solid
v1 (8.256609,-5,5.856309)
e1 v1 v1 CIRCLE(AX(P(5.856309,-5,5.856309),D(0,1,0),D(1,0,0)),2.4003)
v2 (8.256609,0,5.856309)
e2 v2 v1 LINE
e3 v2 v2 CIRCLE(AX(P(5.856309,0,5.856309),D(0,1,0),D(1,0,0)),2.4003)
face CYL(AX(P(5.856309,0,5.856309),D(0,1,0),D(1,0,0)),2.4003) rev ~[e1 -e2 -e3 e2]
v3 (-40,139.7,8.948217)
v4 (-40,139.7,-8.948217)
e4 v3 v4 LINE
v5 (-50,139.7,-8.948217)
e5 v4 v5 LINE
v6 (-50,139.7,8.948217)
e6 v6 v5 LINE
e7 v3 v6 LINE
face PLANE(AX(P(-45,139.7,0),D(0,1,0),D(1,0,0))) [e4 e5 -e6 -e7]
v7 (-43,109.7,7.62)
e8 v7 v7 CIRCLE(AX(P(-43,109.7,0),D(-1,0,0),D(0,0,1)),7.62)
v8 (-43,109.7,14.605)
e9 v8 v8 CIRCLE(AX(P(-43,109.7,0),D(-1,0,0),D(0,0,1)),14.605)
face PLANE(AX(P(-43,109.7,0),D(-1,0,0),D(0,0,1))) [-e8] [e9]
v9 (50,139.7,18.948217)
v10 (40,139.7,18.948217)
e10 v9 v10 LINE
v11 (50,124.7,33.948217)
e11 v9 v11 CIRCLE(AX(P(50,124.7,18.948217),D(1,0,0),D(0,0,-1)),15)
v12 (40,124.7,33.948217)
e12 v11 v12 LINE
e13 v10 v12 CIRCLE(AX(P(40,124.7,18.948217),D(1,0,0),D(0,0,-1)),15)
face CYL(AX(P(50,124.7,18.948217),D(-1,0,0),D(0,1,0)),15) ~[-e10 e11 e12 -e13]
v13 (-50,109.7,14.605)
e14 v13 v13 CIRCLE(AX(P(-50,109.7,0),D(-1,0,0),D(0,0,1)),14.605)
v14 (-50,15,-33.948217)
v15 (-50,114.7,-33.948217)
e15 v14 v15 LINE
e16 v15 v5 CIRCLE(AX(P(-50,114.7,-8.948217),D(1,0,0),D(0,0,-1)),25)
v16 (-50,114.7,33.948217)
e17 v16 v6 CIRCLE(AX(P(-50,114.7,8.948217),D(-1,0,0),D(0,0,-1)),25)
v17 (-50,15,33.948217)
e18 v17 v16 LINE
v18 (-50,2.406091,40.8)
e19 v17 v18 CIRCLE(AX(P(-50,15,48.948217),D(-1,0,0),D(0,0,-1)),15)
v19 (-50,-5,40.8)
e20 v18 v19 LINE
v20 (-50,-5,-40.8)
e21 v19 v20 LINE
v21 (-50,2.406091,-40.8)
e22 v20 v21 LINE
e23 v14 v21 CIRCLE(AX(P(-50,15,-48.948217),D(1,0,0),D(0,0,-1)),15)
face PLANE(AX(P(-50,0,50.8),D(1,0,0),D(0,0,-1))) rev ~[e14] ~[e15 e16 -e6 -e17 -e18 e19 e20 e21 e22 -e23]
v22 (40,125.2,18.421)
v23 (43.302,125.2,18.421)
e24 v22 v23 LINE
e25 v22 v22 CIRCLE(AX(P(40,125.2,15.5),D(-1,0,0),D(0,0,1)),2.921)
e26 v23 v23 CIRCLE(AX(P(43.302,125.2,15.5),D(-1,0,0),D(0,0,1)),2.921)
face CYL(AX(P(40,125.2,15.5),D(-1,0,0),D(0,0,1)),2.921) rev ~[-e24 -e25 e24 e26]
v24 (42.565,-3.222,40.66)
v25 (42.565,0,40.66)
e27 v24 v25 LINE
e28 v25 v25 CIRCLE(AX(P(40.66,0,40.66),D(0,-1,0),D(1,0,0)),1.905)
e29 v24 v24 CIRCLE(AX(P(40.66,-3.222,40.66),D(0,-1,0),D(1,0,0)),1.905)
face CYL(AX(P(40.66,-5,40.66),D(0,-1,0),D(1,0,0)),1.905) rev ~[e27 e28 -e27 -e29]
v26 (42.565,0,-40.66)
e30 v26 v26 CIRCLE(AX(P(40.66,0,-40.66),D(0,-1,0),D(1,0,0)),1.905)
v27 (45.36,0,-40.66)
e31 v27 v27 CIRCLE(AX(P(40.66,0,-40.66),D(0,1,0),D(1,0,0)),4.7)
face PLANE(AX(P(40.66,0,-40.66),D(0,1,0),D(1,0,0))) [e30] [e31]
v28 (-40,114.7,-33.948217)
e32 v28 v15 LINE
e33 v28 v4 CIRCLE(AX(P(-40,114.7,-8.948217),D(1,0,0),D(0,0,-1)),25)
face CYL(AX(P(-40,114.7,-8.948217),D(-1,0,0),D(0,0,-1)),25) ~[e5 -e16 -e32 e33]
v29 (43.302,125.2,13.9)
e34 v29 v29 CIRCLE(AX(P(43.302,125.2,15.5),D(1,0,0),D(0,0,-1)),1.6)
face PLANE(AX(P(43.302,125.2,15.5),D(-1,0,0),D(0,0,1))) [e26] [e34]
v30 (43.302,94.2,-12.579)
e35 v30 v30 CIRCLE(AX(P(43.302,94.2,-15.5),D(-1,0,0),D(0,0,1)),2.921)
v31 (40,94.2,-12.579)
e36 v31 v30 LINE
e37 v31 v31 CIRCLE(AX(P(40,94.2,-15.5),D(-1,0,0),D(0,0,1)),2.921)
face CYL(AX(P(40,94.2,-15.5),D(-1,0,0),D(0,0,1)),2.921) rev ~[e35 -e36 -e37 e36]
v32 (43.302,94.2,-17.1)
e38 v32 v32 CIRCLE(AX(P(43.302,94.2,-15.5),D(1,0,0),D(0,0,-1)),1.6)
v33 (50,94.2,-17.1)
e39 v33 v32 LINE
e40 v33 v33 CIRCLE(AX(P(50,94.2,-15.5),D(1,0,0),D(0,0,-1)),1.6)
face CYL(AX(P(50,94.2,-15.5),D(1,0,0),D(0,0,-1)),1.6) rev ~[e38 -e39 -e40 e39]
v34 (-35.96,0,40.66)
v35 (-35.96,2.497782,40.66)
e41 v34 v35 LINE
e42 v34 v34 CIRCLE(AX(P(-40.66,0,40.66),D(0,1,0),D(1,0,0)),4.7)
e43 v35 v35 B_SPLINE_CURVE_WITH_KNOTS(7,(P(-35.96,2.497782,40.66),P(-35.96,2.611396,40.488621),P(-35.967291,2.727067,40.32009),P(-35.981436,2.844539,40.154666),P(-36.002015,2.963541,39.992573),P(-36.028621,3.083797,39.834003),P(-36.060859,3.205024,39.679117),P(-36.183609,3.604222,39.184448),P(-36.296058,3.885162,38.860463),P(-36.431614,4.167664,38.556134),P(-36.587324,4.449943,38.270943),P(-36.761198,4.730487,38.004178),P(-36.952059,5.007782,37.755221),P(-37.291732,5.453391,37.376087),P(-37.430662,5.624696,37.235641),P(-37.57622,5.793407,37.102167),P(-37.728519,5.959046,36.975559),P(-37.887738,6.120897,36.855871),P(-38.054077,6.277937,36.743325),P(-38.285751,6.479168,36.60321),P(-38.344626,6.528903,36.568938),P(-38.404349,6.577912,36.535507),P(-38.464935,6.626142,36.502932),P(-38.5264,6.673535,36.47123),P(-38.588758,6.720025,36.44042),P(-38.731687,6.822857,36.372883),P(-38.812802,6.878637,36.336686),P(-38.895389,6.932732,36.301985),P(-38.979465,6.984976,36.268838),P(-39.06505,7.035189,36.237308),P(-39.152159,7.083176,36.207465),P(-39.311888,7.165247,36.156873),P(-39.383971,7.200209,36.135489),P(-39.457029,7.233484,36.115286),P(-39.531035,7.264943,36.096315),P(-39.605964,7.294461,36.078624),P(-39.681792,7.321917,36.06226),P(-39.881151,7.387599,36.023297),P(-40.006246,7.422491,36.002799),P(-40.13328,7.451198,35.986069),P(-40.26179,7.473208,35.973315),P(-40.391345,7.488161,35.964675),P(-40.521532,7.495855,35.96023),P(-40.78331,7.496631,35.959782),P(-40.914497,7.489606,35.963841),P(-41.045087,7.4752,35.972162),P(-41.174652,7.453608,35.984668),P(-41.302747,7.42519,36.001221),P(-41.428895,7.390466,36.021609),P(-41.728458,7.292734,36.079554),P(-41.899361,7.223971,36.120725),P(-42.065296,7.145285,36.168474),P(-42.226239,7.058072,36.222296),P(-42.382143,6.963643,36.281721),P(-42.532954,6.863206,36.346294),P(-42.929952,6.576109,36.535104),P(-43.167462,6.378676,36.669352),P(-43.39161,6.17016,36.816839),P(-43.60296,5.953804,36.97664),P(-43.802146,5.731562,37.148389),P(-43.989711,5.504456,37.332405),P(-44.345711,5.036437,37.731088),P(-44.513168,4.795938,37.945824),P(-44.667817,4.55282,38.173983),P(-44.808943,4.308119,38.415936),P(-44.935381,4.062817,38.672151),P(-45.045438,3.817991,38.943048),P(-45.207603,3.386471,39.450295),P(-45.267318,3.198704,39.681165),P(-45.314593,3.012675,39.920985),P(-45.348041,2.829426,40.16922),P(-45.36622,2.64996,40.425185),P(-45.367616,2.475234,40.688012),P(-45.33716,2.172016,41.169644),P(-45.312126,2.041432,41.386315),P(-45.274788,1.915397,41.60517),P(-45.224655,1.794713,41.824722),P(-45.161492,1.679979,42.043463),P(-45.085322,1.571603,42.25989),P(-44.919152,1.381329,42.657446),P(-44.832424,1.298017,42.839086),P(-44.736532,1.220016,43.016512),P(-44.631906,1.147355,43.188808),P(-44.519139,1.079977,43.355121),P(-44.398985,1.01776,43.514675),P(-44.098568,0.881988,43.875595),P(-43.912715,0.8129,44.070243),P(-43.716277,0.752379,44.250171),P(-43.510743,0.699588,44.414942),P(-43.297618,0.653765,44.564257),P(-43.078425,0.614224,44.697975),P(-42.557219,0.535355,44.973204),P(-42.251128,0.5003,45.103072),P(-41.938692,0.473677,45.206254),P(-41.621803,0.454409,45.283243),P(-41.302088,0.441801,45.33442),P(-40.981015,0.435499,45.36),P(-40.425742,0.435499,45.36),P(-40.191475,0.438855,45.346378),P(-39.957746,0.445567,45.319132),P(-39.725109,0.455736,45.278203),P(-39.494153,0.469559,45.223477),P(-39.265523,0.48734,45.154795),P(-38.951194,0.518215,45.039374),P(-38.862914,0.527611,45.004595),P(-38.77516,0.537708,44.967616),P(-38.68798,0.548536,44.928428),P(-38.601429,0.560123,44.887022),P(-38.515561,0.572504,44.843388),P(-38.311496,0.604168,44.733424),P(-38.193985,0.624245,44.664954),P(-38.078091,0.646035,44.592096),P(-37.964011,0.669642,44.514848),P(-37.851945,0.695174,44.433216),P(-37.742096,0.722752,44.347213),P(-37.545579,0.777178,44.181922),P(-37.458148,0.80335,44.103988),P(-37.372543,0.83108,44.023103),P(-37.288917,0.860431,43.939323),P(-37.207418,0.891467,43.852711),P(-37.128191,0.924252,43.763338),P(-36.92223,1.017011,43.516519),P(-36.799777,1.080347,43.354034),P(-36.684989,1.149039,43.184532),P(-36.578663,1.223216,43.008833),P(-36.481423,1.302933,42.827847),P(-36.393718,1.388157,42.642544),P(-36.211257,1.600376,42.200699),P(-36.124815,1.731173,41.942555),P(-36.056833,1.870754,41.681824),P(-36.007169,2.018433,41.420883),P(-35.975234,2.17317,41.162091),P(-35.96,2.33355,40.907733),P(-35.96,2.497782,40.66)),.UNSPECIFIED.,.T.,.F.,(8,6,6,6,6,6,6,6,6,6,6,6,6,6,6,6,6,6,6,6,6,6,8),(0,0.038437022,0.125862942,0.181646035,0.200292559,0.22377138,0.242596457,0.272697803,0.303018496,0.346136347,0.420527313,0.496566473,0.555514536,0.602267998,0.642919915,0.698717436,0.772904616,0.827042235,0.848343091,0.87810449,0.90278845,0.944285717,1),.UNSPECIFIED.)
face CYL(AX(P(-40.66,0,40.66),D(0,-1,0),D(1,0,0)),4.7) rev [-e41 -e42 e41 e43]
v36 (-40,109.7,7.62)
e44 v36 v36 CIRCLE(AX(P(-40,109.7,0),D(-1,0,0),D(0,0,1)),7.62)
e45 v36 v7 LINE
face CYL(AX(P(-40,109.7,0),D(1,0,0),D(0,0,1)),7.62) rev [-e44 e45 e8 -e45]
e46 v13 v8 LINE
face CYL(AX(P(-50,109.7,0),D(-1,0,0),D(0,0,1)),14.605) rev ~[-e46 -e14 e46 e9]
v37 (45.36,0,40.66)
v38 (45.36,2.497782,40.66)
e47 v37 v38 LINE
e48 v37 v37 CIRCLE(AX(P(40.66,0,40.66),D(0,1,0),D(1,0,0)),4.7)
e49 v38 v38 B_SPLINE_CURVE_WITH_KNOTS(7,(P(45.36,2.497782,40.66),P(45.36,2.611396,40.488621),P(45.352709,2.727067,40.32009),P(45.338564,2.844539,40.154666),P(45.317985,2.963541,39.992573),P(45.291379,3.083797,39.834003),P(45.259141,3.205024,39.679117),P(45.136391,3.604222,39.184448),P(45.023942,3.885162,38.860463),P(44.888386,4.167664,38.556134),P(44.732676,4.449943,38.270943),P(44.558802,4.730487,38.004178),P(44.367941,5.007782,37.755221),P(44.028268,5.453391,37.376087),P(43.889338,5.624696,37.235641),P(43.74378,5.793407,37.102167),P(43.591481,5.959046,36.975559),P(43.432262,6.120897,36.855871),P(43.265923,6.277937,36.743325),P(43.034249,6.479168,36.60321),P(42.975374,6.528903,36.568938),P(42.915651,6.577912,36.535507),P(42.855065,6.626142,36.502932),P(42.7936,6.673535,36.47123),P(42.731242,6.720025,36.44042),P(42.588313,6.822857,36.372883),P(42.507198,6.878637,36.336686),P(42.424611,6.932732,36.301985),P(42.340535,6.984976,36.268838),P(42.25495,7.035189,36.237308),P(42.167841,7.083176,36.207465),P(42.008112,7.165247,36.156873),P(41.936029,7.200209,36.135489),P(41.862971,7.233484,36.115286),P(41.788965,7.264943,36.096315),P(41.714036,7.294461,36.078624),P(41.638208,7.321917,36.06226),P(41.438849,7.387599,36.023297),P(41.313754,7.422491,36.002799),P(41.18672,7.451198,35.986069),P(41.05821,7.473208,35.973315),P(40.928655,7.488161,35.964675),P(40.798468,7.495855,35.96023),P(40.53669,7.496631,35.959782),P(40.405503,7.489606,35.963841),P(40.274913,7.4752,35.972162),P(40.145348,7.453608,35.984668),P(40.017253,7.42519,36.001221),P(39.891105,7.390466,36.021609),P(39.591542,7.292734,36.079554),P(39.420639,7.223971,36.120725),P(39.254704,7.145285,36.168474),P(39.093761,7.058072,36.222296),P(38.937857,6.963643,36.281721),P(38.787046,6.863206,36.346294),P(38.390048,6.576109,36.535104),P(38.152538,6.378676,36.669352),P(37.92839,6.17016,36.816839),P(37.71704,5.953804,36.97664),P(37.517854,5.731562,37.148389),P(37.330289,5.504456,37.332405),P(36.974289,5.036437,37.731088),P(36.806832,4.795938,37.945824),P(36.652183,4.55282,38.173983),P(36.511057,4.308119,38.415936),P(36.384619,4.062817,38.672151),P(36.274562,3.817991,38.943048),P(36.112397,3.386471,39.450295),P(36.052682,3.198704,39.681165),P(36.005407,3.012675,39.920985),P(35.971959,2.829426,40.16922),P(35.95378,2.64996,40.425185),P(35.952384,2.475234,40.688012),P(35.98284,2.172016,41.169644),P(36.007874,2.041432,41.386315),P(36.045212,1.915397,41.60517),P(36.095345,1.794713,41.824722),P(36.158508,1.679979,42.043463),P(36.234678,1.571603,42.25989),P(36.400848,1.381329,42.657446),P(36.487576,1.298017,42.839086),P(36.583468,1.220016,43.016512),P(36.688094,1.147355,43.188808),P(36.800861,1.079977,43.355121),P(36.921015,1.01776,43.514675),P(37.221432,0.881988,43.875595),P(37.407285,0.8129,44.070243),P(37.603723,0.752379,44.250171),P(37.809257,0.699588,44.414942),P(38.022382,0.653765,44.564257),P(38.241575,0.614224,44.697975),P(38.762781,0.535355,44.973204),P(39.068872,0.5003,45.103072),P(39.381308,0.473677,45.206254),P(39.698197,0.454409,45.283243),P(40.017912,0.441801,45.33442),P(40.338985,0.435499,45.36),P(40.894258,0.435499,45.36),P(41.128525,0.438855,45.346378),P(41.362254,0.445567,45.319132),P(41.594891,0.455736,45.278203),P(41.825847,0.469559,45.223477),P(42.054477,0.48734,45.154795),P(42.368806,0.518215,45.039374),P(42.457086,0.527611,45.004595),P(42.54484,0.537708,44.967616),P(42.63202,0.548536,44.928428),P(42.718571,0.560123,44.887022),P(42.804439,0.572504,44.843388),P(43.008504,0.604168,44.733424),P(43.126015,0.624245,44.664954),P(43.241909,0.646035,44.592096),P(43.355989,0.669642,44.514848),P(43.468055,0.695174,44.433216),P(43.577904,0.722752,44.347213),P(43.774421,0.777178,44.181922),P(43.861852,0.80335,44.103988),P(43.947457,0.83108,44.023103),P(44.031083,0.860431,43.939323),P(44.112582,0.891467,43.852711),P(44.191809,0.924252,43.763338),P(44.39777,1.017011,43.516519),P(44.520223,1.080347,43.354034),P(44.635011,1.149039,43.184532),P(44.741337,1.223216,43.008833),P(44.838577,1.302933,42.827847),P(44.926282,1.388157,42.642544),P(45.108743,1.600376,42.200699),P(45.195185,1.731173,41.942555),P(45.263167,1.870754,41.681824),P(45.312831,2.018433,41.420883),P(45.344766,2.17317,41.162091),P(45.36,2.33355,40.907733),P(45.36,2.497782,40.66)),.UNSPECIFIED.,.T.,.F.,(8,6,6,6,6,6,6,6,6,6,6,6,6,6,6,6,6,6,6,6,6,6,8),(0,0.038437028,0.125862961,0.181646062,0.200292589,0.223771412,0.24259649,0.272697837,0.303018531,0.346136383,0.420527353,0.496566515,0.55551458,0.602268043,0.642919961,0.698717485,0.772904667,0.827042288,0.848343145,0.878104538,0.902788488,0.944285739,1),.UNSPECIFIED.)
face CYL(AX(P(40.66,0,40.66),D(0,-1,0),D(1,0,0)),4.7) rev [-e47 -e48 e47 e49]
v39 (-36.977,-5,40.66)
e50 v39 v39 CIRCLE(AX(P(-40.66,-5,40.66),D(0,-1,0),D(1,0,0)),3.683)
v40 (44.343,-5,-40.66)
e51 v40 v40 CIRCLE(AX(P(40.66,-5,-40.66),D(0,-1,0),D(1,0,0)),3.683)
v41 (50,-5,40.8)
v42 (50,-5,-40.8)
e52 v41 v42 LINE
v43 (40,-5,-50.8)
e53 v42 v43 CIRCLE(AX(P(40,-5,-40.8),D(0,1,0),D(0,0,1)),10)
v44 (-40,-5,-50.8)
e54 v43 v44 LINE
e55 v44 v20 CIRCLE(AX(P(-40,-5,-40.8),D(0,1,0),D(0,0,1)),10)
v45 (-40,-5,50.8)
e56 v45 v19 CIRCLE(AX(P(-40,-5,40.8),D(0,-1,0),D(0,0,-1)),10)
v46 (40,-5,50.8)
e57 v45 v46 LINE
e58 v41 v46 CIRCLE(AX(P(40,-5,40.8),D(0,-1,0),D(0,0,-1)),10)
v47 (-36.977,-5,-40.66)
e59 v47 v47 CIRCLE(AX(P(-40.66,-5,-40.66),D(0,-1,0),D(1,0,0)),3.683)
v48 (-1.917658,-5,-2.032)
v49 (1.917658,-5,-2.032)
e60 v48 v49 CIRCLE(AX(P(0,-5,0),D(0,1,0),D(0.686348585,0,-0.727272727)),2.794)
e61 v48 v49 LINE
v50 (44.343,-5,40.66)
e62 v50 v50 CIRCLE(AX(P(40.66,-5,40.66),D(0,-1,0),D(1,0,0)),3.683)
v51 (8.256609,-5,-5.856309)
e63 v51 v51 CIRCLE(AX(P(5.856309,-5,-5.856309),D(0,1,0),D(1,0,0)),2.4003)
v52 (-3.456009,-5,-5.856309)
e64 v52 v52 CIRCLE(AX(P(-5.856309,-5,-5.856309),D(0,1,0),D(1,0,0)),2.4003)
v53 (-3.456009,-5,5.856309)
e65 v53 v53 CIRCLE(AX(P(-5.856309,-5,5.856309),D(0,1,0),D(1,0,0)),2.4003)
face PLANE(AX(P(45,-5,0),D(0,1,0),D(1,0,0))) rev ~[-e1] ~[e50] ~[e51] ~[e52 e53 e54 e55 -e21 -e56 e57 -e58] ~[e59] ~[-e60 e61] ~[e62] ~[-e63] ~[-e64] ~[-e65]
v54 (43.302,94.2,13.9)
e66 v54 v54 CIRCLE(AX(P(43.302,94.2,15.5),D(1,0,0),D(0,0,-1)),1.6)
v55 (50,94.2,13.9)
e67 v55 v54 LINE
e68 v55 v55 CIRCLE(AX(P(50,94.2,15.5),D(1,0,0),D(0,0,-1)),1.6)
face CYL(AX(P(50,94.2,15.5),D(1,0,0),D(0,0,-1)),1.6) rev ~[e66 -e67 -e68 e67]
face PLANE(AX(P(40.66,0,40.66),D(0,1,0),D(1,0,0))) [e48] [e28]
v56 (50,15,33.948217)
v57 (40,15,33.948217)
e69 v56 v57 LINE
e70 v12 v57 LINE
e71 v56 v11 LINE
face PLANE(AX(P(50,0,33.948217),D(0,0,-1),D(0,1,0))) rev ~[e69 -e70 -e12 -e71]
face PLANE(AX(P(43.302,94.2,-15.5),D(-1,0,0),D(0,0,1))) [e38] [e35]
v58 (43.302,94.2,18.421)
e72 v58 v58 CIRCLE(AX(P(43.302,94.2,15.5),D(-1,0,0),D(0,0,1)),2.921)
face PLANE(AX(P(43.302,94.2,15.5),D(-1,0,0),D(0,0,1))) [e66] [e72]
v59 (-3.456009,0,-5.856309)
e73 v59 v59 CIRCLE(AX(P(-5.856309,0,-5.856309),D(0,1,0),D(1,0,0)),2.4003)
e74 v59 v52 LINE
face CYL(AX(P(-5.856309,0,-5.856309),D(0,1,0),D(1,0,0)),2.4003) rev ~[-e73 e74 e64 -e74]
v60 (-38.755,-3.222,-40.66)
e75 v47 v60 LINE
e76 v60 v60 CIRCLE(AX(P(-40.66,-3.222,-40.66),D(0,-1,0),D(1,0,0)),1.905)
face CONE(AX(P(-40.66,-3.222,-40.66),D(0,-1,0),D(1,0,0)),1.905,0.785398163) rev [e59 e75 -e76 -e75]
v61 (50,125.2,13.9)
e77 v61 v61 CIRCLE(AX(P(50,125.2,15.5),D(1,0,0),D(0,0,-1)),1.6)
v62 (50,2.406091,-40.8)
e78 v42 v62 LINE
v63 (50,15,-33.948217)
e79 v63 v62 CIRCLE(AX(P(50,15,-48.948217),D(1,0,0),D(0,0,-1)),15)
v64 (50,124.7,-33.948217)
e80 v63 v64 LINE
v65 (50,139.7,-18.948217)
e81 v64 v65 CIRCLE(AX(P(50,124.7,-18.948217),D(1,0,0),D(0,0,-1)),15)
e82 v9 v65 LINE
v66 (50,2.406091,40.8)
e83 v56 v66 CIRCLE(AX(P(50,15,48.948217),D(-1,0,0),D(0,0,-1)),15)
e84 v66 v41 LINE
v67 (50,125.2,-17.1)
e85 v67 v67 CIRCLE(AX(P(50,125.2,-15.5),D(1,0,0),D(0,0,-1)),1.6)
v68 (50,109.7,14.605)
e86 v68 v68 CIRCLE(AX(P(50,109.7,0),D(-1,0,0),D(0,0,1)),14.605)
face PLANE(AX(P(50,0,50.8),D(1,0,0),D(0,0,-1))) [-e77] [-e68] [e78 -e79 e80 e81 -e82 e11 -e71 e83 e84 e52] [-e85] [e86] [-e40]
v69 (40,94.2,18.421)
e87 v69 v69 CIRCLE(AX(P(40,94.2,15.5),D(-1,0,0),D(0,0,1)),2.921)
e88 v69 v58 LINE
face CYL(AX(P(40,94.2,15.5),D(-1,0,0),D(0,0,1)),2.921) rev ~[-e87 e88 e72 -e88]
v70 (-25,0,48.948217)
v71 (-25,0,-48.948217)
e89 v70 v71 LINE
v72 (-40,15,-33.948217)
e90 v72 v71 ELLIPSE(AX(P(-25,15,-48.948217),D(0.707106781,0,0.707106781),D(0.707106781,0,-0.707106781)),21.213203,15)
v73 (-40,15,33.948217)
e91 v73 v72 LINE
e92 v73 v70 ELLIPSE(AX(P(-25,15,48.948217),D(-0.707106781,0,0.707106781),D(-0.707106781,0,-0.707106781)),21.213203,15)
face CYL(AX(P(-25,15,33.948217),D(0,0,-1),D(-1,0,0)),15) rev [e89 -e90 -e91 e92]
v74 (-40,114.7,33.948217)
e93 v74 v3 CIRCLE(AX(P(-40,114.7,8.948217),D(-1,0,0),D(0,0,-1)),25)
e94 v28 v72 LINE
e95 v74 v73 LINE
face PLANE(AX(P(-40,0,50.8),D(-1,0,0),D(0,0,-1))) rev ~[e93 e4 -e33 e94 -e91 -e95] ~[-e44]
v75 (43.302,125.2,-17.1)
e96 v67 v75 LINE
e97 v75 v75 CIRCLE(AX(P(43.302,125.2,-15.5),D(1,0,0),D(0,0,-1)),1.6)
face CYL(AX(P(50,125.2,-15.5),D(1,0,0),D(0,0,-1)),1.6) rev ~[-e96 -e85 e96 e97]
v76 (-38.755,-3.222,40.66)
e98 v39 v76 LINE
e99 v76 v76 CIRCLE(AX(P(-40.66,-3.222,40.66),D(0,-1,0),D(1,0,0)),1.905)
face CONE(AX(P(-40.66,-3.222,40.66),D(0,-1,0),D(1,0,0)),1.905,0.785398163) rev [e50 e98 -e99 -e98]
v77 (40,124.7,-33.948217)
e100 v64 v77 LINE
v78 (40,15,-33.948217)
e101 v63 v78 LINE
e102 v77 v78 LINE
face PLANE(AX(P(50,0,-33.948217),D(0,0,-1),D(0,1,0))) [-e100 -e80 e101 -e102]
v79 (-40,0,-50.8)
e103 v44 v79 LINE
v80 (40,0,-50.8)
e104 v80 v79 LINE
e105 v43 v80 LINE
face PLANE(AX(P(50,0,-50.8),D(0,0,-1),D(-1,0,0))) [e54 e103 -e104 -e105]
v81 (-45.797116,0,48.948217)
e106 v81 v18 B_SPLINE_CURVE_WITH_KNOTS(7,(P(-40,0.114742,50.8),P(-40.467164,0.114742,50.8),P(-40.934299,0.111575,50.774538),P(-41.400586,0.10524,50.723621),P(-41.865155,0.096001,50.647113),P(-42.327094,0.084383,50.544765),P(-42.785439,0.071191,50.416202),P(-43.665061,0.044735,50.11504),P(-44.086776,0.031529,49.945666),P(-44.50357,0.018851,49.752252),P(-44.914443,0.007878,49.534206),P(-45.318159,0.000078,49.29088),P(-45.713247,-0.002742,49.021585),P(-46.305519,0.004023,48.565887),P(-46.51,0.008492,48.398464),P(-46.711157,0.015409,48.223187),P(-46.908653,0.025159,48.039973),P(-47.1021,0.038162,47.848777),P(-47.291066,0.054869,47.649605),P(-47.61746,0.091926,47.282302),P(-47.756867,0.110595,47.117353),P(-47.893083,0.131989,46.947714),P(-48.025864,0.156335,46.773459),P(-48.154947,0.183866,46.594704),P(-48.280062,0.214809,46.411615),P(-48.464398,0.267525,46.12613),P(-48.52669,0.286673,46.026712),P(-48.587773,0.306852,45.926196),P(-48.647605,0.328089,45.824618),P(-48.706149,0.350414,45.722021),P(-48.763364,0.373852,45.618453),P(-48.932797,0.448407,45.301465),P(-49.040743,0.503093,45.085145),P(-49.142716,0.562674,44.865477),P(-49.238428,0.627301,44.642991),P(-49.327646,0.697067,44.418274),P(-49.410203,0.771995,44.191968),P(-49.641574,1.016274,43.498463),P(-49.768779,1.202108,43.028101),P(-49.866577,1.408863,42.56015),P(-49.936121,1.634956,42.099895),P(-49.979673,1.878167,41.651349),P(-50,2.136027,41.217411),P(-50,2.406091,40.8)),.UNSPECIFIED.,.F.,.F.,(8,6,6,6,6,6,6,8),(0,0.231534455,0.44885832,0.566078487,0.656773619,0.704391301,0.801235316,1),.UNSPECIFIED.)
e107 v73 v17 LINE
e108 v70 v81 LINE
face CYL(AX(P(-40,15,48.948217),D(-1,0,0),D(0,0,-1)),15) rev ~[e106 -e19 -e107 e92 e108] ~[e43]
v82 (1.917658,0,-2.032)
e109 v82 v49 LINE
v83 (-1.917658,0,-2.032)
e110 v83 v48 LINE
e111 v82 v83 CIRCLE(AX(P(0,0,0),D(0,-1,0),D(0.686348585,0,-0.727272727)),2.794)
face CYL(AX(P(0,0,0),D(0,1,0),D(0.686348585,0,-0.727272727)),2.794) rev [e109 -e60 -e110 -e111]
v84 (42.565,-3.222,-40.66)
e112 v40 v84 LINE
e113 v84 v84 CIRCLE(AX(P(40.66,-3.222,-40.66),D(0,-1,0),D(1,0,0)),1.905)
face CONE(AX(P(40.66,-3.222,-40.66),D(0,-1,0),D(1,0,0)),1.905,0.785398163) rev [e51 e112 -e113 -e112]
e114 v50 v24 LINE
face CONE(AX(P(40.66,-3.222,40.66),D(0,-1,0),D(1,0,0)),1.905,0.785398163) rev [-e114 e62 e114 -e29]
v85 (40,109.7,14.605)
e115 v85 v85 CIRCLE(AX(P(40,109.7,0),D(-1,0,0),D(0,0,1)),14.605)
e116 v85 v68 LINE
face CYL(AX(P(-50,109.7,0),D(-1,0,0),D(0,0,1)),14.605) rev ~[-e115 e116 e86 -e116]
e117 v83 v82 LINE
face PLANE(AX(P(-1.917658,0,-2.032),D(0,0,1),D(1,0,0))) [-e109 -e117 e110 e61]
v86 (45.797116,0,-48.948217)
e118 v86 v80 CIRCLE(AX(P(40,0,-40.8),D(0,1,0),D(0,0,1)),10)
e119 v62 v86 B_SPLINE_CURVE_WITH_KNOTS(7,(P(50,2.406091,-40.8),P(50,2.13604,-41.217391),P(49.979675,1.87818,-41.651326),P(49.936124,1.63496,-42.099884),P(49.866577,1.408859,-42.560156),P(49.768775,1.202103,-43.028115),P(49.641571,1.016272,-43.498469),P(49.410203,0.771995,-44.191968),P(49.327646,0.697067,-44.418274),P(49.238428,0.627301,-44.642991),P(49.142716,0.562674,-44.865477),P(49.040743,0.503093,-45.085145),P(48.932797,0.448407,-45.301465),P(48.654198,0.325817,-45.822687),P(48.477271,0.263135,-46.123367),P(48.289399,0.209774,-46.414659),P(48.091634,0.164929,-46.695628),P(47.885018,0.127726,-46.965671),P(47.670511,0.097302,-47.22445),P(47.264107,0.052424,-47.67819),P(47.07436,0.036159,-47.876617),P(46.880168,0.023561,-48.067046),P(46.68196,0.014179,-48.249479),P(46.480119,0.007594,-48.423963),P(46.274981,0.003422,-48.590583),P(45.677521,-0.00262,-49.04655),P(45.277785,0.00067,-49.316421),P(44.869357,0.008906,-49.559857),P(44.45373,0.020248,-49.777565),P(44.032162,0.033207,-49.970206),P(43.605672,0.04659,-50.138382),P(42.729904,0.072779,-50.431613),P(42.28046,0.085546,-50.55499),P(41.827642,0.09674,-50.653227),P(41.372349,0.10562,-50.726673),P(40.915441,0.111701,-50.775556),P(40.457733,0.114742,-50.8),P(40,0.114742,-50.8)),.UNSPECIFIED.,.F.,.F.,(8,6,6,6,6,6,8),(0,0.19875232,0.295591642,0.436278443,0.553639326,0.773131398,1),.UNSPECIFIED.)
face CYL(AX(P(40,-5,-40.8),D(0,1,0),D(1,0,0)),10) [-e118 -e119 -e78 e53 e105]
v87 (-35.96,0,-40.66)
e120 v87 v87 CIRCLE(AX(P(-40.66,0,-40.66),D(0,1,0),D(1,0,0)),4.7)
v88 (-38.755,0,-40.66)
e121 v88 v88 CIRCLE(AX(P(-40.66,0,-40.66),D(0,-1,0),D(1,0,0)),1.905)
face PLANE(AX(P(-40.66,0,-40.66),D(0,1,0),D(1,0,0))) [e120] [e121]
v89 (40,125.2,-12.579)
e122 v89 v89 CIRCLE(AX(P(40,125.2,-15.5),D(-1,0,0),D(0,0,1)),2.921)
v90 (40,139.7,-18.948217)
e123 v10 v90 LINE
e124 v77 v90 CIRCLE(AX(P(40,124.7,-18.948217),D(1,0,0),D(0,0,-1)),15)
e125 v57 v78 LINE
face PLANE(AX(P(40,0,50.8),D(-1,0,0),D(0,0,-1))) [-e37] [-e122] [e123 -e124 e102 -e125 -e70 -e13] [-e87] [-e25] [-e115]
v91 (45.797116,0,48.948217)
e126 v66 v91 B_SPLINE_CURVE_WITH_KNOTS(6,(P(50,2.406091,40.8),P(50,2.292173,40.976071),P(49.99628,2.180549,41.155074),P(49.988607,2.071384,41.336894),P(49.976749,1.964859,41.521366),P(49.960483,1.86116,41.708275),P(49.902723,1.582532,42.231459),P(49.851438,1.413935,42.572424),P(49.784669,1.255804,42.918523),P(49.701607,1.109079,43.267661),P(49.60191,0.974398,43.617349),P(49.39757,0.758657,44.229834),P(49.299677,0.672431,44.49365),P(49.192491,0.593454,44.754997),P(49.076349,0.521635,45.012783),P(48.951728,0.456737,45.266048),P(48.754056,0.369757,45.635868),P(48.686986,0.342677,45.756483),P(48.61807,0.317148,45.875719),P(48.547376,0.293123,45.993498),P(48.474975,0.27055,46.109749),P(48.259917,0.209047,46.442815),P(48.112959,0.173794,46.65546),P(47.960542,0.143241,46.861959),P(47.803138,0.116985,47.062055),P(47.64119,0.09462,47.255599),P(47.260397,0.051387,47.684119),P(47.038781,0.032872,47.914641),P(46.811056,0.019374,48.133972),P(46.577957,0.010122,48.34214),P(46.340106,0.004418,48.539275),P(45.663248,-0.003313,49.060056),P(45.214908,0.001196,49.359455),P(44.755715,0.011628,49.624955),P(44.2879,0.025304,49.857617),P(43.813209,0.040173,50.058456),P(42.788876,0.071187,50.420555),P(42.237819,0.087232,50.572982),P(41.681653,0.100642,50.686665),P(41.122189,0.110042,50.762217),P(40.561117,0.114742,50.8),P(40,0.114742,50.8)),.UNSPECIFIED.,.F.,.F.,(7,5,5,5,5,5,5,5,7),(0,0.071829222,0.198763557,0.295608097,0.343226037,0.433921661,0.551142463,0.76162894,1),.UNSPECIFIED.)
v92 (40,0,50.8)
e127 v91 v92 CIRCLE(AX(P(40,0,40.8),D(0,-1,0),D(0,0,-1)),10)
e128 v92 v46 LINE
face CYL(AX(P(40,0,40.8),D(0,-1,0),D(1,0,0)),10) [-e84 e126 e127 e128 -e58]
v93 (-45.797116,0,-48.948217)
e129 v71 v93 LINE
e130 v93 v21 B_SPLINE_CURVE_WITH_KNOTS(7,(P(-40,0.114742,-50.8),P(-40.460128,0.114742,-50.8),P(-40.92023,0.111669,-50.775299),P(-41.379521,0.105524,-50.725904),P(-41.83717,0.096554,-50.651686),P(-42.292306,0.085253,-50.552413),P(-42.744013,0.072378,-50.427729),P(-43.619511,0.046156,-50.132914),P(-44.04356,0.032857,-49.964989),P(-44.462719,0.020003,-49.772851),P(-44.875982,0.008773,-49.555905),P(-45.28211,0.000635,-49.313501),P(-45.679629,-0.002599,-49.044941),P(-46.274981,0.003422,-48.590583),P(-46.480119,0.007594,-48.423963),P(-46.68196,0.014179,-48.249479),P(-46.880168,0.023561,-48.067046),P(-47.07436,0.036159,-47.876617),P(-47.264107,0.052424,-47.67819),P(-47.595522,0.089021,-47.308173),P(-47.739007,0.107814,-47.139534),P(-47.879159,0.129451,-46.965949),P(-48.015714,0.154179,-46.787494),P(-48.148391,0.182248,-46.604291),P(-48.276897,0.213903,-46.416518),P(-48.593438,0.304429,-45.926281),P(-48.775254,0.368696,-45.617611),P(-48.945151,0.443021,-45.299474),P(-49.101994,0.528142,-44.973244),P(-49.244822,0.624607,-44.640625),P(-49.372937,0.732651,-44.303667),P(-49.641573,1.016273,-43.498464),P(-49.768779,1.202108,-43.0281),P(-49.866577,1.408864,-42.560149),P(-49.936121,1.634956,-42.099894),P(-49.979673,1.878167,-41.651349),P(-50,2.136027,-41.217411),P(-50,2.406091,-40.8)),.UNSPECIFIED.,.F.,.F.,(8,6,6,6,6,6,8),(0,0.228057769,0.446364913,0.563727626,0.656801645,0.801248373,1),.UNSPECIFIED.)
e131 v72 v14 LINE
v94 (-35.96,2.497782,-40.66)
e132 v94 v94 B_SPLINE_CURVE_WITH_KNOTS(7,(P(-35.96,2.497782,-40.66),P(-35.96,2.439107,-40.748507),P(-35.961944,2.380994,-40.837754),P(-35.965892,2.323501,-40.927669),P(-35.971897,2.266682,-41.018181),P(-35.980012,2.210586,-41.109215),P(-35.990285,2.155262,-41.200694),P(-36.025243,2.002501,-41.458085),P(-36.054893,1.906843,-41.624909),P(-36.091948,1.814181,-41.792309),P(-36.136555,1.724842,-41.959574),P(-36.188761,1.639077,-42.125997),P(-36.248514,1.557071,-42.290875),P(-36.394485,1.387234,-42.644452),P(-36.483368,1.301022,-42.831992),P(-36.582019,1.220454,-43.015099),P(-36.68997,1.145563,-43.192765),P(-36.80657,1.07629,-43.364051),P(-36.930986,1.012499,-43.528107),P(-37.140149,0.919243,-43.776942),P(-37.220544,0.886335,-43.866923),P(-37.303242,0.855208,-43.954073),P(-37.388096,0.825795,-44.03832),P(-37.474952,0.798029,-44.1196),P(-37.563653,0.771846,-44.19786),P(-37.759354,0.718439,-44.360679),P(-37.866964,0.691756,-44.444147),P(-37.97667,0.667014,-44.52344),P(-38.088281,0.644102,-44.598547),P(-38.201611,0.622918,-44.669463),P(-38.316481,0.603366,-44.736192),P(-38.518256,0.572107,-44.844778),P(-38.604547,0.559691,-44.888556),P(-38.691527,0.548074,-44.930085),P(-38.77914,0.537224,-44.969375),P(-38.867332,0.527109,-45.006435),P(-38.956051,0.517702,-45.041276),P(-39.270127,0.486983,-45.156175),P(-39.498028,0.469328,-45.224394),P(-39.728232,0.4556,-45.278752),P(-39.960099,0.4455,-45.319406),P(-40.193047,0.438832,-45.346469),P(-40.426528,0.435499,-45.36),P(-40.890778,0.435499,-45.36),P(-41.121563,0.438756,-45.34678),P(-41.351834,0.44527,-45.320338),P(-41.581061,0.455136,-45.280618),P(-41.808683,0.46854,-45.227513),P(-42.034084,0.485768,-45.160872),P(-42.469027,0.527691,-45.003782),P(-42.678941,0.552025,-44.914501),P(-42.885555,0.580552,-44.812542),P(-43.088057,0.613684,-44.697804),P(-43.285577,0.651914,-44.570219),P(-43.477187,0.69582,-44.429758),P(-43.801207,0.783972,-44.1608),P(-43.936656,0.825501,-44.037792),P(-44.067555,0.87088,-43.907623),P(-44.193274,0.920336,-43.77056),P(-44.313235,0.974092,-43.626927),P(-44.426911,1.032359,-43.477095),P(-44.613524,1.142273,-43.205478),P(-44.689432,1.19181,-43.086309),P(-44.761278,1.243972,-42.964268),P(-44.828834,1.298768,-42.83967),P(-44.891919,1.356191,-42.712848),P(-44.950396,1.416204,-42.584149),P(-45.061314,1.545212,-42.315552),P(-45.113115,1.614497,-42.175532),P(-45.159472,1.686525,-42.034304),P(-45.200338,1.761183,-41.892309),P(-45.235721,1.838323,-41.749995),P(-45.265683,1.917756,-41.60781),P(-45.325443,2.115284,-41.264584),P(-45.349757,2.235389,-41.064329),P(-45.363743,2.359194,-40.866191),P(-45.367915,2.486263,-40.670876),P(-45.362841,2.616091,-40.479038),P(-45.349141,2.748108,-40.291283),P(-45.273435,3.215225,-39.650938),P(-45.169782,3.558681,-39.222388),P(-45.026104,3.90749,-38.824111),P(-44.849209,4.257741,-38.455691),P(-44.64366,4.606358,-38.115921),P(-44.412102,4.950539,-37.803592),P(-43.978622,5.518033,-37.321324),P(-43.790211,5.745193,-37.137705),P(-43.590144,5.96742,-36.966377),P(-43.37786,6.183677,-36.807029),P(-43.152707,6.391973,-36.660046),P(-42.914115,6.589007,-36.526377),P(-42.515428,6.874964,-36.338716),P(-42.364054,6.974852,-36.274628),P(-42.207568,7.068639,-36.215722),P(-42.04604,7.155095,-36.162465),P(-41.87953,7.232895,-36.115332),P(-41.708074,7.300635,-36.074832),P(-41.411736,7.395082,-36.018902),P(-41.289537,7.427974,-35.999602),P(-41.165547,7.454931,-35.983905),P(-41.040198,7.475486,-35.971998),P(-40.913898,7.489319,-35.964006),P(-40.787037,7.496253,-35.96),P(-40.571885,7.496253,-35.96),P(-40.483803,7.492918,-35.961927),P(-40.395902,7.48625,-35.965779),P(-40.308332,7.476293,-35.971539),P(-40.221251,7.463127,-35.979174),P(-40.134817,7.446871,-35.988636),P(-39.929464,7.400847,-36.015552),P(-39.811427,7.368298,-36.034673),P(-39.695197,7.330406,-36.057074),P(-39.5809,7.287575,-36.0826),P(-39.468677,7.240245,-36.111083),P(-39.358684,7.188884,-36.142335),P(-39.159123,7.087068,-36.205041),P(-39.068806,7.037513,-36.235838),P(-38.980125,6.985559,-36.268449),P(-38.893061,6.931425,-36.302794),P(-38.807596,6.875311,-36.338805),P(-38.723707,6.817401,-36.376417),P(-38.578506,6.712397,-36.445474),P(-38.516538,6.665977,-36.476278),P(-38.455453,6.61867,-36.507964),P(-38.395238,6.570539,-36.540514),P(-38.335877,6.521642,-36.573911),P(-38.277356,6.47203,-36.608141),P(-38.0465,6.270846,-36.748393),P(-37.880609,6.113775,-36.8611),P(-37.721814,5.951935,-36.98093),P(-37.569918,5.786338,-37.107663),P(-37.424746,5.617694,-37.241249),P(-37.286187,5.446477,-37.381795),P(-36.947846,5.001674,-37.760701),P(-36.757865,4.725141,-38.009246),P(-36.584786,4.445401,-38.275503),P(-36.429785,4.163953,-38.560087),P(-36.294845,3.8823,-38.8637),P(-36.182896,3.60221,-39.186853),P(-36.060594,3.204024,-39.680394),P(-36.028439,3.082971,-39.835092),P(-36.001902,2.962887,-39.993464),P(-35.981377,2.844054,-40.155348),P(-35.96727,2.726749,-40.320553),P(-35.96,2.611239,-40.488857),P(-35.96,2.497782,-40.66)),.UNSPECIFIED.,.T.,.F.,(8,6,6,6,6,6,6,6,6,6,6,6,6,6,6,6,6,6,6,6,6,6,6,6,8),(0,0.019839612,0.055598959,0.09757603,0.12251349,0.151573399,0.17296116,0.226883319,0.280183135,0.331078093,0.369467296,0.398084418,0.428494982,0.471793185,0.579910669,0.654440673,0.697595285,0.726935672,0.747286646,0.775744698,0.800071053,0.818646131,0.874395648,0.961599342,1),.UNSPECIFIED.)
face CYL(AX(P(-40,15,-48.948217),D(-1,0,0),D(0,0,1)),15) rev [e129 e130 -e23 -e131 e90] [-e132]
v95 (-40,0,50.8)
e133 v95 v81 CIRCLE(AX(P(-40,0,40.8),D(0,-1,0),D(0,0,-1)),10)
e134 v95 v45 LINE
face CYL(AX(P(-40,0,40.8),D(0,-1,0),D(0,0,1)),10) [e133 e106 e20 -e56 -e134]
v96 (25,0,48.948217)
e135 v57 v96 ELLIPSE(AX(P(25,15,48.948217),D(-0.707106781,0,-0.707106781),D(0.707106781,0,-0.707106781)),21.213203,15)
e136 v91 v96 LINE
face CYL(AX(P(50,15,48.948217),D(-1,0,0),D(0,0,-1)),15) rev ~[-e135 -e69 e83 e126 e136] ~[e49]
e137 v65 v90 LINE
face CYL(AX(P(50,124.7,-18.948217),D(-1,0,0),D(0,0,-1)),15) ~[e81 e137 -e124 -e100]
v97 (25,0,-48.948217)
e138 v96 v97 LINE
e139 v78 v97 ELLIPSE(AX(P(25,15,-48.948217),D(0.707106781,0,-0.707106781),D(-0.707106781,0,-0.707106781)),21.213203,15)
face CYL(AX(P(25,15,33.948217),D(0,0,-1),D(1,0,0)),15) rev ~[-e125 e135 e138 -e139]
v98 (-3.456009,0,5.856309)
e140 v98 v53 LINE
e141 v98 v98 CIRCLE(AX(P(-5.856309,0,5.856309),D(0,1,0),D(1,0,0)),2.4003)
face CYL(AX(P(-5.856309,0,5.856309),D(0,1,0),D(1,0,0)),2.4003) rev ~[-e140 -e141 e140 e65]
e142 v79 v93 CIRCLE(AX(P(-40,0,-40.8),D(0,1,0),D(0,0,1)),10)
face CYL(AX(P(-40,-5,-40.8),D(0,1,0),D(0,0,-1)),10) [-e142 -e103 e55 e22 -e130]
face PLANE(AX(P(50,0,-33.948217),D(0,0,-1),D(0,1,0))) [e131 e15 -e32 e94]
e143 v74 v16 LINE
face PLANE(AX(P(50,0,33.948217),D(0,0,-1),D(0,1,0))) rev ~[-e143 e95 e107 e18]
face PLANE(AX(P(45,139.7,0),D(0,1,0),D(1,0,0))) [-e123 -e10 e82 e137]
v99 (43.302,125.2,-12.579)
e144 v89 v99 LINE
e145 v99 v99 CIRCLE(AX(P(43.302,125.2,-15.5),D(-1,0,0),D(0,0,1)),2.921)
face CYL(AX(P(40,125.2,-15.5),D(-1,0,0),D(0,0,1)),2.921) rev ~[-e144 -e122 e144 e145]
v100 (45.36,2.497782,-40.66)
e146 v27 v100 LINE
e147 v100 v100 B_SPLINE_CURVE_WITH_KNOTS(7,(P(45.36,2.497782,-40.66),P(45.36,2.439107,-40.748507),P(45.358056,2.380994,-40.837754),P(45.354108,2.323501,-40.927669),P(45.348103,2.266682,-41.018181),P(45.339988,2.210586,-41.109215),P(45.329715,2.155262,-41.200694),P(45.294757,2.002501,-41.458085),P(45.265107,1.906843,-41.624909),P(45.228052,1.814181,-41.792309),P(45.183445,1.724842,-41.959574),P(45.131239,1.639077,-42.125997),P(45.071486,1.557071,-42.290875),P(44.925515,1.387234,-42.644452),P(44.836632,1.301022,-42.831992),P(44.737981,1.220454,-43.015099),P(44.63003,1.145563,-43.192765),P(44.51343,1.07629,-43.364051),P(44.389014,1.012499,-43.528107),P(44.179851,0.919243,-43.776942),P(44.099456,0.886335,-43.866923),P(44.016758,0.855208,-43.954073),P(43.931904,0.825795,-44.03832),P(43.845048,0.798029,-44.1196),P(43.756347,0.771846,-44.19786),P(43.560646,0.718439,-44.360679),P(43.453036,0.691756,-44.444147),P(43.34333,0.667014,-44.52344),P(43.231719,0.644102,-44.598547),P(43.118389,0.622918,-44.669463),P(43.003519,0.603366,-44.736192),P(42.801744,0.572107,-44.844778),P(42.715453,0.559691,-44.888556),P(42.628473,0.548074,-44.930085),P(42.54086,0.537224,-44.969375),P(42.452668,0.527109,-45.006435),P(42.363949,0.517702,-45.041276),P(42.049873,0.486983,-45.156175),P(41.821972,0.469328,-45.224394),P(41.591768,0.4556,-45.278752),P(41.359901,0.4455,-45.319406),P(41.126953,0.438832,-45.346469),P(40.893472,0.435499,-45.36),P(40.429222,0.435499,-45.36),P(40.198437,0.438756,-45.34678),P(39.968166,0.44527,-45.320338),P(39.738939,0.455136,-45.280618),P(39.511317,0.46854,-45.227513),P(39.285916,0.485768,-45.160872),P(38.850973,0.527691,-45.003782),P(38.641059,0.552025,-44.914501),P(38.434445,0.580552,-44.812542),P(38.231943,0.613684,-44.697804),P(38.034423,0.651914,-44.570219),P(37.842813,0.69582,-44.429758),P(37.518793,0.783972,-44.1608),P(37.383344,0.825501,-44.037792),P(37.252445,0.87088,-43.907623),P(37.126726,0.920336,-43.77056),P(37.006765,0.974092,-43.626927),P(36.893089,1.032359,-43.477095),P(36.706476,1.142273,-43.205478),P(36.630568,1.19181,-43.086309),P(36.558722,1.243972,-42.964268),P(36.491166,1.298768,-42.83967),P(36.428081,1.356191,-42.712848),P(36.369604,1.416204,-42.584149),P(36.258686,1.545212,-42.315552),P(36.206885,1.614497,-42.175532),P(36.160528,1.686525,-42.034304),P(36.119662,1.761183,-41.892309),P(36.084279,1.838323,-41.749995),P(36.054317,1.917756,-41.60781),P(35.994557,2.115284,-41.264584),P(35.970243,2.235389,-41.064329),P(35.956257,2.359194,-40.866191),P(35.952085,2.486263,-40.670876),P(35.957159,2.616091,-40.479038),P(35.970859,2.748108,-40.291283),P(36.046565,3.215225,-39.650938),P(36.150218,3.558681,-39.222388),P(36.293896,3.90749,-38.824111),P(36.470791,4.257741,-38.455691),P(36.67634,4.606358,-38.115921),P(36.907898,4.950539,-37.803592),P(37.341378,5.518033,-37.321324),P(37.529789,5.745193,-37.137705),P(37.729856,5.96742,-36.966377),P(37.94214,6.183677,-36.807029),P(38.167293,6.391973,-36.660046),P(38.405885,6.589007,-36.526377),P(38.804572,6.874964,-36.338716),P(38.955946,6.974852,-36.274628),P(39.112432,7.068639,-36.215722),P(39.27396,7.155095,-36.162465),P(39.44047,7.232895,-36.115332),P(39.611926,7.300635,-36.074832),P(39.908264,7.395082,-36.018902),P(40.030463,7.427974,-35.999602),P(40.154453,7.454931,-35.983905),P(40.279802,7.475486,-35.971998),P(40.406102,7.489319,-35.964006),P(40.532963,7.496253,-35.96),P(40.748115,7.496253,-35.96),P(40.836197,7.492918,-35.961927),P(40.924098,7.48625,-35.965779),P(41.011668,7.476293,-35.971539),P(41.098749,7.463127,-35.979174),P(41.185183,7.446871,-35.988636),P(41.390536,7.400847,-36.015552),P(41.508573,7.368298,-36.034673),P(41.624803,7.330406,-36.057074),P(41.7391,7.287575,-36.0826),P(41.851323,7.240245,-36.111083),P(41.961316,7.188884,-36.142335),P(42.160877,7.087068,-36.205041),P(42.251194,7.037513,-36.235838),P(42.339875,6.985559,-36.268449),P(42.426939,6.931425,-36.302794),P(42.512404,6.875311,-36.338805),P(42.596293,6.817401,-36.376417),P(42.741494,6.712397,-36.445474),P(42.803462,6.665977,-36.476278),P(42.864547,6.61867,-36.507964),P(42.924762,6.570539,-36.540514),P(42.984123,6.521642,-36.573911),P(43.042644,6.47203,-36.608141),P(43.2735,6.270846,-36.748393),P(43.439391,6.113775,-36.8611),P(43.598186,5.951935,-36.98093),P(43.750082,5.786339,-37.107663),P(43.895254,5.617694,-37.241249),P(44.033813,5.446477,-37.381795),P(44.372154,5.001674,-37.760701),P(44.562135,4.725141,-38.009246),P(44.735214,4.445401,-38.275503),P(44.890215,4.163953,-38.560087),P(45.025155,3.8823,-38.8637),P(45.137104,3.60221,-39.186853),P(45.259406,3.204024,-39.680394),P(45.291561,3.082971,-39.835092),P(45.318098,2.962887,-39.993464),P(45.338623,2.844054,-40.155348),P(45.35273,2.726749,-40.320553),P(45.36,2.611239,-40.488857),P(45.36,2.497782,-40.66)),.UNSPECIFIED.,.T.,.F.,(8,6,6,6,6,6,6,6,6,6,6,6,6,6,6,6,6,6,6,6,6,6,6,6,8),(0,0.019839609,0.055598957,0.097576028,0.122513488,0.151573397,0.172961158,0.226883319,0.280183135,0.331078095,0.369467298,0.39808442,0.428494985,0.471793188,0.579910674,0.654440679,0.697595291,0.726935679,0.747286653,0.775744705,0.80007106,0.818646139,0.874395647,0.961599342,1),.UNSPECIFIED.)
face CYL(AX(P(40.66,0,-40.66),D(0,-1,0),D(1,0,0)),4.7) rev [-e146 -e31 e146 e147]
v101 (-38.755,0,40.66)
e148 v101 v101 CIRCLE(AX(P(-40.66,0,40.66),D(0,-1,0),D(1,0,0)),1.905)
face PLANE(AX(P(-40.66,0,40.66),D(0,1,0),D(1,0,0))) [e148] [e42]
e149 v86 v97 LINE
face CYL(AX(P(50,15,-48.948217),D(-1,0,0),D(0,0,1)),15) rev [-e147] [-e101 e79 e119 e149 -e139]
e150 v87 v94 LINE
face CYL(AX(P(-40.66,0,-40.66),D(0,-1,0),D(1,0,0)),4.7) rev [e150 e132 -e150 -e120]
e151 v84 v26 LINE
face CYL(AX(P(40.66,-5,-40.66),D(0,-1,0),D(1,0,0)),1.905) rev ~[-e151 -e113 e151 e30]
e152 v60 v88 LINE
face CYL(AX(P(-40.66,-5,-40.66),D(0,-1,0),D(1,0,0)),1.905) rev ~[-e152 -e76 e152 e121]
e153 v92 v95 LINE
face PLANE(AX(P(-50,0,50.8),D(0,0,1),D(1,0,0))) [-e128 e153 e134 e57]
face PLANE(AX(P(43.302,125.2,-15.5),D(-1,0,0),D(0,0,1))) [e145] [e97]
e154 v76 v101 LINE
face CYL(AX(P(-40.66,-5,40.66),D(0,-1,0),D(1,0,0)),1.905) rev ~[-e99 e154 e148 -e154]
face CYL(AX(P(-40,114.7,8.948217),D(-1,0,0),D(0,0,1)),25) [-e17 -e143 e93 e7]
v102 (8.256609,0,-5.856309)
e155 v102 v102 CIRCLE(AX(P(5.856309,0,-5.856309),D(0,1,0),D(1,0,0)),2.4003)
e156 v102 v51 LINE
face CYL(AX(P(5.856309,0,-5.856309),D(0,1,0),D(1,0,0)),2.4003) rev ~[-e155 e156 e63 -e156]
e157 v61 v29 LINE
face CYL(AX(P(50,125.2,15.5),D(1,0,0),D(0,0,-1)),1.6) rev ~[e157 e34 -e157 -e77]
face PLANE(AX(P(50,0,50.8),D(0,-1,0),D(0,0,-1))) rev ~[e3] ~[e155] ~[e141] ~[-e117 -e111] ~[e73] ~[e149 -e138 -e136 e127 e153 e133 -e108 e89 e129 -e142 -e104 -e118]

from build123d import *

# Parameters (mm, degrees)
SKETCH2_W             = 10
SKETCH2_H             = 101.6
BOSS_EXTRUDE1_DEPTH   = 139.7
BOSS_EXTRUDE1_2_DEPTH = 139.7
SKETCH2_3_W           = 10
SKETCH2_3_H           = 101.6
SKETCH2_3_W_2         = 80
BOSS_EXTRUDE2_DEPTH   = 5
SKETCH3_R             = 14.605
CUT_EXTRUDE1_DEPTH    = 117
SKETCH4_W             = 16.851782798
SKETCH4_H             = 139.7
CUT_EXTRUDE2_DEPTH    = 119
FILLET14_R            = 15
FILLET2_R             = 10
SKETCH7_R             = 1.6
CUT_EXTRUDE4_DEPTH    = 21
BOSS_EXTRUDE3_START   = 80
SKETCH8_R             = 14.75414129
SKETCH8_R_2           = 7.62
BOSS_EXTRUDE3_DEPTH   = 3
SKETCH9_R             = 1.905
CUT_EXTRUDE5_DEPTH    = 145.7
CUT_EXTRUDE6_DEPTH    = 10
FILLET4_R             = 25
SKETCH10_R            = 2.4003
CUT_EXTRUDE7_DEPTH    = 10
SKETCH11_R            = 4.7
CUT_EXTRUDE9_DEPTH    = 10
CHAMFER1_SIZE         = 1.778
SKETCH12_R            = 2.921
CUT_EXTRUDE10_DEPTH   = 3.302


with BuildPart() as part:
    # Sketch2 → Boss-Extrude1 (new body)
    with BuildSketch(Plane(origin=(0, 0, 0), x_dir=(1, 0, 0), z_dir=(0, 1, 0))):
        with Locations((-45, 0)):
            Rectangle(SKETCH2_W, SKETCH2_H)
    extrude(amount=BOSS_EXTRUDE1_DEPTH)



with BuildPart() as body_2:
    # Sketch2 → Boss-Extrude1 2 (new body)
    with BuildSketch(Plane(origin=(0, 0, 0), x_dir=(1, 0, 0), z_dir=(0, 1, 0))):
        with Locations((45, 0)):
            Rectangle(SKETCH2_W, SKETCH2_H)
    extrude(amount=BOSS_EXTRUDE1_2_DEPTH)


with BuildPart() as part_1:
    add(part.part)

    add(body_2.part)  # Boss-Extrude2 merges body 2
    # Sketch2<3> → Boss-Extrude2 (add)
    with BuildSketch(Plane(origin=(0, 0, 0), x_dir=(1, 0, 0), z_dir=(0, 1, 0))):
        with Locations((45, 0)):
            Rectangle(SKETCH2_3_W, SKETCH2_3_H)
        Rectangle(SKETCH2_3_W_2, SKETCH2_3_H)
        with Locations((-45, 0)):
            Rectangle(SKETCH2_3_W, SKETCH2_3_H)
    extrude(amount=-BOSS_EXTRUDE2_DEPTH)

    # Sketch3 → Cut-Extrude1 (cut)
    with BuildSketch(Plane.ZY.offset(50)):
        with Locations((0, 109.7)):
            Circle(SKETCH3_R)
    extrude(amount=-CUT_EXTRUDE1_DEPTH, mode=Mode.SUBTRACT)

    # Sketch4 → Cut-Extrude2 (cut)
    with BuildSketch(Plane(origin=(50, 0, 0), x_dir=(0, 0, -1), z_dir=(1, 0, 0))):
        with Locations((-42.374108601, 69.85)):
            Rectangle(SKETCH4_W, SKETCH4_H)
        with Locations((42.374108601, 69.85)):
            Rectangle(SKETCH4_W, SKETCH4_H)
    extrude(amount=-CUT_EXTRUDE2_DEPTH, mode=Mode.SUBTRACT)

    # Fillet14
    fillet14_edges = [part_1.edges().sort_by_distance(p)[0] for p in [
        (45, 139.7, -33.948217202),
        (45, 139.7, 33.948217202),
        (40, 0, 0),
        (-40, 0, 0),
        (-45, 0, 33.948217202),
        (45, 0, 33.948217202),
        (-45, 0, -33.948217202),
        (45, 0, -33.948217202),
    ]]
    fillet(fillet14_edges, radius=FILLET14_R)

    # Fillet2
    fillet2_edges = [part_1.edges().sort_by_distance(p)[0] for p in [
        (50, -2.5, -50.8),
        (-50, -2.5, -50.8),
        (50, -2.5, 50.8),
        (-50, -2.5, 50.8),
    ]]
    fillet(fillet2_edges, radius=FILLET2_R)

    # Sketch7 → Cut-Extrude4 (cut)
    with BuildSketch(Plane(origin=(50, 0, 0), x_dir=(0, 0, -1), z_dir=(1, 0, 0))):
        with Locations((-15.5, 125.2)):
            Circle(SKETCH7_R)
        with Locations((15.5, 125.2)):
            Circle(SKETCH7_R)
        with Locations((15.5, 94.2)):
            Circle(SKETCH7_R)
        with Locations((-15.5, 94.2)):
            Circle(SKETCH7_R)
    extrude(amount=-CUT_EXTRUDE4_DEPTH, mode=Mode.SUBTRACT)

    # Sketch8 → Boss-Extrude3 (add)
    with BuildSketch(Plane.ZY.offset(-40).offset(BOSS_EXTRUDE3_START)):
        with Locations((0, 109.7)):
            Circle(SKETCH8_R)
        with Locations((0, 109.7)):
            Circle(SKETCH8_R_2, mode=Mode.SUBTRACT)
    extrude(amount=BOSS_EXTRUDE3_DEPTH)

    # Sketch9 → Cut-Extrude5 (cut, through all)
    with BuildSketch(Plane.XZ.offset(5)):
        with Locations((-40.66, 40.66)):
            Circle(SKETCH9_R)
        with Locations((40.66, 40.66)):
            Circle(SKETCH9_R)
        with Locations((-40.66, -40.66)):
            Circle(SKETCH9_R)
        with Locations((40.66, -40.66)):
            Circle(SKETCH9_R)
    extrude(amount=-CUT_EXTRUDE5_DEPTH, mode=Mode.SUBTRACT)

    # Sketch5 → Cut-Extrude6 (cut)
    with BuildSketch(Plane(origin=(0, 0, 0), x_dir=(1, 0, 0), z_dir=(0, 1, 0))):
        with BuildLine():
            Line((-1.917657947, 2.032), (1.917657947, 2.032))
            ThreePointArc((1.917657947, 2.032), (0, -2.794), (-1.917657947, 2.032))
        make_face()
    extrude(amount=-CUT_EXTRUDE6_DEPTH, mode=Mode.SUBTRACT)

    # Fillet4
    fillet4_edges = [part_1.edges().sort_by_distance(p)[0] for p in [
        (-45, 139.7, 33.948217202),
        (-45, 139.7, -33.948217202),
    ]]
    fillet(fillet4_edges, radius=FILLET4_R)

    # Sketch10 → Cut-Extrude7 (cut)
    with BuildSketch(Plane(origin=(0, 0, 0), x_dir=(1, 0, 0), z_dir=(0, 1, 0))):
        with Locations((-5.856308805, 5.856308805)):
            Circle(SKETCH10_R)
        with Locations((5.856308805, 5.856308805)):
            Circle(SKETCH10_R)
        with Locations((-5.856308805, -5.856308805)):
            Circle(SKETCH10_R)
        with Locations((5.856308805, -5.856308805)):
            Circle(SKETCH10_R)
    extrude(amount=-CUT_EXTRUDE7_DEPTH, mode=Mode.SUBTRACT)

    # Sketch11 → Cut-Extrude9 (cut)
    with BuildSketch(Plane(origin=(0, 0, 0), x_dir=(1, 0, 0), z_dir=(0, 1, 0))):
        with Locations((-40.66, -40.66)):
            Circle(SKETCH11_R)
        with Locations((40.66, -40.66)):
            Circle(SKETCH11_R)
        with Locations((-40.66, 40.66)):
            Circle(SKETCH11_R)
        with Locations((40.66, 40.66)):
            Circle(SKETCH11_R)
    extrude(amount=CUT_EXTRUDE9_DEPTH, mode=Mode.SUBTRACT)

    # Chamfer1
    chamfer1_edges = [part_1.edges().sort_by_distance(p)[0] for p in [
        (38.755, -5, 40.66),
        (-42.565, -5, -40.66),
        (38.755, -5, -40.66),
        (-42.565, -5, 40.66),
    ]]
    chamfer(chamfer1_edges, length=CHAMFER1_SIZE)

    # Sketch12 → Cut-Extrude10 (cut)
    with BuildSketch(Plane.ZY.offset(-40)):
        with Locations((-15.5, 125.2)):
            Circle(SKETCH12_R)
        with Locations((15.5, 125.2)):
            Circle(SKETCH12_R)
        with Locations((-15.5, 94.2)):
            Circle(SKETCH12_R)
        with Locations((15.5, 94.2)):
            Circle(SKETCH12_R)
    extrude(amount=-CUT_EXTRUDE10_DEPTH, mode=Mode.SUBTRACT)


solid = part_1.part
